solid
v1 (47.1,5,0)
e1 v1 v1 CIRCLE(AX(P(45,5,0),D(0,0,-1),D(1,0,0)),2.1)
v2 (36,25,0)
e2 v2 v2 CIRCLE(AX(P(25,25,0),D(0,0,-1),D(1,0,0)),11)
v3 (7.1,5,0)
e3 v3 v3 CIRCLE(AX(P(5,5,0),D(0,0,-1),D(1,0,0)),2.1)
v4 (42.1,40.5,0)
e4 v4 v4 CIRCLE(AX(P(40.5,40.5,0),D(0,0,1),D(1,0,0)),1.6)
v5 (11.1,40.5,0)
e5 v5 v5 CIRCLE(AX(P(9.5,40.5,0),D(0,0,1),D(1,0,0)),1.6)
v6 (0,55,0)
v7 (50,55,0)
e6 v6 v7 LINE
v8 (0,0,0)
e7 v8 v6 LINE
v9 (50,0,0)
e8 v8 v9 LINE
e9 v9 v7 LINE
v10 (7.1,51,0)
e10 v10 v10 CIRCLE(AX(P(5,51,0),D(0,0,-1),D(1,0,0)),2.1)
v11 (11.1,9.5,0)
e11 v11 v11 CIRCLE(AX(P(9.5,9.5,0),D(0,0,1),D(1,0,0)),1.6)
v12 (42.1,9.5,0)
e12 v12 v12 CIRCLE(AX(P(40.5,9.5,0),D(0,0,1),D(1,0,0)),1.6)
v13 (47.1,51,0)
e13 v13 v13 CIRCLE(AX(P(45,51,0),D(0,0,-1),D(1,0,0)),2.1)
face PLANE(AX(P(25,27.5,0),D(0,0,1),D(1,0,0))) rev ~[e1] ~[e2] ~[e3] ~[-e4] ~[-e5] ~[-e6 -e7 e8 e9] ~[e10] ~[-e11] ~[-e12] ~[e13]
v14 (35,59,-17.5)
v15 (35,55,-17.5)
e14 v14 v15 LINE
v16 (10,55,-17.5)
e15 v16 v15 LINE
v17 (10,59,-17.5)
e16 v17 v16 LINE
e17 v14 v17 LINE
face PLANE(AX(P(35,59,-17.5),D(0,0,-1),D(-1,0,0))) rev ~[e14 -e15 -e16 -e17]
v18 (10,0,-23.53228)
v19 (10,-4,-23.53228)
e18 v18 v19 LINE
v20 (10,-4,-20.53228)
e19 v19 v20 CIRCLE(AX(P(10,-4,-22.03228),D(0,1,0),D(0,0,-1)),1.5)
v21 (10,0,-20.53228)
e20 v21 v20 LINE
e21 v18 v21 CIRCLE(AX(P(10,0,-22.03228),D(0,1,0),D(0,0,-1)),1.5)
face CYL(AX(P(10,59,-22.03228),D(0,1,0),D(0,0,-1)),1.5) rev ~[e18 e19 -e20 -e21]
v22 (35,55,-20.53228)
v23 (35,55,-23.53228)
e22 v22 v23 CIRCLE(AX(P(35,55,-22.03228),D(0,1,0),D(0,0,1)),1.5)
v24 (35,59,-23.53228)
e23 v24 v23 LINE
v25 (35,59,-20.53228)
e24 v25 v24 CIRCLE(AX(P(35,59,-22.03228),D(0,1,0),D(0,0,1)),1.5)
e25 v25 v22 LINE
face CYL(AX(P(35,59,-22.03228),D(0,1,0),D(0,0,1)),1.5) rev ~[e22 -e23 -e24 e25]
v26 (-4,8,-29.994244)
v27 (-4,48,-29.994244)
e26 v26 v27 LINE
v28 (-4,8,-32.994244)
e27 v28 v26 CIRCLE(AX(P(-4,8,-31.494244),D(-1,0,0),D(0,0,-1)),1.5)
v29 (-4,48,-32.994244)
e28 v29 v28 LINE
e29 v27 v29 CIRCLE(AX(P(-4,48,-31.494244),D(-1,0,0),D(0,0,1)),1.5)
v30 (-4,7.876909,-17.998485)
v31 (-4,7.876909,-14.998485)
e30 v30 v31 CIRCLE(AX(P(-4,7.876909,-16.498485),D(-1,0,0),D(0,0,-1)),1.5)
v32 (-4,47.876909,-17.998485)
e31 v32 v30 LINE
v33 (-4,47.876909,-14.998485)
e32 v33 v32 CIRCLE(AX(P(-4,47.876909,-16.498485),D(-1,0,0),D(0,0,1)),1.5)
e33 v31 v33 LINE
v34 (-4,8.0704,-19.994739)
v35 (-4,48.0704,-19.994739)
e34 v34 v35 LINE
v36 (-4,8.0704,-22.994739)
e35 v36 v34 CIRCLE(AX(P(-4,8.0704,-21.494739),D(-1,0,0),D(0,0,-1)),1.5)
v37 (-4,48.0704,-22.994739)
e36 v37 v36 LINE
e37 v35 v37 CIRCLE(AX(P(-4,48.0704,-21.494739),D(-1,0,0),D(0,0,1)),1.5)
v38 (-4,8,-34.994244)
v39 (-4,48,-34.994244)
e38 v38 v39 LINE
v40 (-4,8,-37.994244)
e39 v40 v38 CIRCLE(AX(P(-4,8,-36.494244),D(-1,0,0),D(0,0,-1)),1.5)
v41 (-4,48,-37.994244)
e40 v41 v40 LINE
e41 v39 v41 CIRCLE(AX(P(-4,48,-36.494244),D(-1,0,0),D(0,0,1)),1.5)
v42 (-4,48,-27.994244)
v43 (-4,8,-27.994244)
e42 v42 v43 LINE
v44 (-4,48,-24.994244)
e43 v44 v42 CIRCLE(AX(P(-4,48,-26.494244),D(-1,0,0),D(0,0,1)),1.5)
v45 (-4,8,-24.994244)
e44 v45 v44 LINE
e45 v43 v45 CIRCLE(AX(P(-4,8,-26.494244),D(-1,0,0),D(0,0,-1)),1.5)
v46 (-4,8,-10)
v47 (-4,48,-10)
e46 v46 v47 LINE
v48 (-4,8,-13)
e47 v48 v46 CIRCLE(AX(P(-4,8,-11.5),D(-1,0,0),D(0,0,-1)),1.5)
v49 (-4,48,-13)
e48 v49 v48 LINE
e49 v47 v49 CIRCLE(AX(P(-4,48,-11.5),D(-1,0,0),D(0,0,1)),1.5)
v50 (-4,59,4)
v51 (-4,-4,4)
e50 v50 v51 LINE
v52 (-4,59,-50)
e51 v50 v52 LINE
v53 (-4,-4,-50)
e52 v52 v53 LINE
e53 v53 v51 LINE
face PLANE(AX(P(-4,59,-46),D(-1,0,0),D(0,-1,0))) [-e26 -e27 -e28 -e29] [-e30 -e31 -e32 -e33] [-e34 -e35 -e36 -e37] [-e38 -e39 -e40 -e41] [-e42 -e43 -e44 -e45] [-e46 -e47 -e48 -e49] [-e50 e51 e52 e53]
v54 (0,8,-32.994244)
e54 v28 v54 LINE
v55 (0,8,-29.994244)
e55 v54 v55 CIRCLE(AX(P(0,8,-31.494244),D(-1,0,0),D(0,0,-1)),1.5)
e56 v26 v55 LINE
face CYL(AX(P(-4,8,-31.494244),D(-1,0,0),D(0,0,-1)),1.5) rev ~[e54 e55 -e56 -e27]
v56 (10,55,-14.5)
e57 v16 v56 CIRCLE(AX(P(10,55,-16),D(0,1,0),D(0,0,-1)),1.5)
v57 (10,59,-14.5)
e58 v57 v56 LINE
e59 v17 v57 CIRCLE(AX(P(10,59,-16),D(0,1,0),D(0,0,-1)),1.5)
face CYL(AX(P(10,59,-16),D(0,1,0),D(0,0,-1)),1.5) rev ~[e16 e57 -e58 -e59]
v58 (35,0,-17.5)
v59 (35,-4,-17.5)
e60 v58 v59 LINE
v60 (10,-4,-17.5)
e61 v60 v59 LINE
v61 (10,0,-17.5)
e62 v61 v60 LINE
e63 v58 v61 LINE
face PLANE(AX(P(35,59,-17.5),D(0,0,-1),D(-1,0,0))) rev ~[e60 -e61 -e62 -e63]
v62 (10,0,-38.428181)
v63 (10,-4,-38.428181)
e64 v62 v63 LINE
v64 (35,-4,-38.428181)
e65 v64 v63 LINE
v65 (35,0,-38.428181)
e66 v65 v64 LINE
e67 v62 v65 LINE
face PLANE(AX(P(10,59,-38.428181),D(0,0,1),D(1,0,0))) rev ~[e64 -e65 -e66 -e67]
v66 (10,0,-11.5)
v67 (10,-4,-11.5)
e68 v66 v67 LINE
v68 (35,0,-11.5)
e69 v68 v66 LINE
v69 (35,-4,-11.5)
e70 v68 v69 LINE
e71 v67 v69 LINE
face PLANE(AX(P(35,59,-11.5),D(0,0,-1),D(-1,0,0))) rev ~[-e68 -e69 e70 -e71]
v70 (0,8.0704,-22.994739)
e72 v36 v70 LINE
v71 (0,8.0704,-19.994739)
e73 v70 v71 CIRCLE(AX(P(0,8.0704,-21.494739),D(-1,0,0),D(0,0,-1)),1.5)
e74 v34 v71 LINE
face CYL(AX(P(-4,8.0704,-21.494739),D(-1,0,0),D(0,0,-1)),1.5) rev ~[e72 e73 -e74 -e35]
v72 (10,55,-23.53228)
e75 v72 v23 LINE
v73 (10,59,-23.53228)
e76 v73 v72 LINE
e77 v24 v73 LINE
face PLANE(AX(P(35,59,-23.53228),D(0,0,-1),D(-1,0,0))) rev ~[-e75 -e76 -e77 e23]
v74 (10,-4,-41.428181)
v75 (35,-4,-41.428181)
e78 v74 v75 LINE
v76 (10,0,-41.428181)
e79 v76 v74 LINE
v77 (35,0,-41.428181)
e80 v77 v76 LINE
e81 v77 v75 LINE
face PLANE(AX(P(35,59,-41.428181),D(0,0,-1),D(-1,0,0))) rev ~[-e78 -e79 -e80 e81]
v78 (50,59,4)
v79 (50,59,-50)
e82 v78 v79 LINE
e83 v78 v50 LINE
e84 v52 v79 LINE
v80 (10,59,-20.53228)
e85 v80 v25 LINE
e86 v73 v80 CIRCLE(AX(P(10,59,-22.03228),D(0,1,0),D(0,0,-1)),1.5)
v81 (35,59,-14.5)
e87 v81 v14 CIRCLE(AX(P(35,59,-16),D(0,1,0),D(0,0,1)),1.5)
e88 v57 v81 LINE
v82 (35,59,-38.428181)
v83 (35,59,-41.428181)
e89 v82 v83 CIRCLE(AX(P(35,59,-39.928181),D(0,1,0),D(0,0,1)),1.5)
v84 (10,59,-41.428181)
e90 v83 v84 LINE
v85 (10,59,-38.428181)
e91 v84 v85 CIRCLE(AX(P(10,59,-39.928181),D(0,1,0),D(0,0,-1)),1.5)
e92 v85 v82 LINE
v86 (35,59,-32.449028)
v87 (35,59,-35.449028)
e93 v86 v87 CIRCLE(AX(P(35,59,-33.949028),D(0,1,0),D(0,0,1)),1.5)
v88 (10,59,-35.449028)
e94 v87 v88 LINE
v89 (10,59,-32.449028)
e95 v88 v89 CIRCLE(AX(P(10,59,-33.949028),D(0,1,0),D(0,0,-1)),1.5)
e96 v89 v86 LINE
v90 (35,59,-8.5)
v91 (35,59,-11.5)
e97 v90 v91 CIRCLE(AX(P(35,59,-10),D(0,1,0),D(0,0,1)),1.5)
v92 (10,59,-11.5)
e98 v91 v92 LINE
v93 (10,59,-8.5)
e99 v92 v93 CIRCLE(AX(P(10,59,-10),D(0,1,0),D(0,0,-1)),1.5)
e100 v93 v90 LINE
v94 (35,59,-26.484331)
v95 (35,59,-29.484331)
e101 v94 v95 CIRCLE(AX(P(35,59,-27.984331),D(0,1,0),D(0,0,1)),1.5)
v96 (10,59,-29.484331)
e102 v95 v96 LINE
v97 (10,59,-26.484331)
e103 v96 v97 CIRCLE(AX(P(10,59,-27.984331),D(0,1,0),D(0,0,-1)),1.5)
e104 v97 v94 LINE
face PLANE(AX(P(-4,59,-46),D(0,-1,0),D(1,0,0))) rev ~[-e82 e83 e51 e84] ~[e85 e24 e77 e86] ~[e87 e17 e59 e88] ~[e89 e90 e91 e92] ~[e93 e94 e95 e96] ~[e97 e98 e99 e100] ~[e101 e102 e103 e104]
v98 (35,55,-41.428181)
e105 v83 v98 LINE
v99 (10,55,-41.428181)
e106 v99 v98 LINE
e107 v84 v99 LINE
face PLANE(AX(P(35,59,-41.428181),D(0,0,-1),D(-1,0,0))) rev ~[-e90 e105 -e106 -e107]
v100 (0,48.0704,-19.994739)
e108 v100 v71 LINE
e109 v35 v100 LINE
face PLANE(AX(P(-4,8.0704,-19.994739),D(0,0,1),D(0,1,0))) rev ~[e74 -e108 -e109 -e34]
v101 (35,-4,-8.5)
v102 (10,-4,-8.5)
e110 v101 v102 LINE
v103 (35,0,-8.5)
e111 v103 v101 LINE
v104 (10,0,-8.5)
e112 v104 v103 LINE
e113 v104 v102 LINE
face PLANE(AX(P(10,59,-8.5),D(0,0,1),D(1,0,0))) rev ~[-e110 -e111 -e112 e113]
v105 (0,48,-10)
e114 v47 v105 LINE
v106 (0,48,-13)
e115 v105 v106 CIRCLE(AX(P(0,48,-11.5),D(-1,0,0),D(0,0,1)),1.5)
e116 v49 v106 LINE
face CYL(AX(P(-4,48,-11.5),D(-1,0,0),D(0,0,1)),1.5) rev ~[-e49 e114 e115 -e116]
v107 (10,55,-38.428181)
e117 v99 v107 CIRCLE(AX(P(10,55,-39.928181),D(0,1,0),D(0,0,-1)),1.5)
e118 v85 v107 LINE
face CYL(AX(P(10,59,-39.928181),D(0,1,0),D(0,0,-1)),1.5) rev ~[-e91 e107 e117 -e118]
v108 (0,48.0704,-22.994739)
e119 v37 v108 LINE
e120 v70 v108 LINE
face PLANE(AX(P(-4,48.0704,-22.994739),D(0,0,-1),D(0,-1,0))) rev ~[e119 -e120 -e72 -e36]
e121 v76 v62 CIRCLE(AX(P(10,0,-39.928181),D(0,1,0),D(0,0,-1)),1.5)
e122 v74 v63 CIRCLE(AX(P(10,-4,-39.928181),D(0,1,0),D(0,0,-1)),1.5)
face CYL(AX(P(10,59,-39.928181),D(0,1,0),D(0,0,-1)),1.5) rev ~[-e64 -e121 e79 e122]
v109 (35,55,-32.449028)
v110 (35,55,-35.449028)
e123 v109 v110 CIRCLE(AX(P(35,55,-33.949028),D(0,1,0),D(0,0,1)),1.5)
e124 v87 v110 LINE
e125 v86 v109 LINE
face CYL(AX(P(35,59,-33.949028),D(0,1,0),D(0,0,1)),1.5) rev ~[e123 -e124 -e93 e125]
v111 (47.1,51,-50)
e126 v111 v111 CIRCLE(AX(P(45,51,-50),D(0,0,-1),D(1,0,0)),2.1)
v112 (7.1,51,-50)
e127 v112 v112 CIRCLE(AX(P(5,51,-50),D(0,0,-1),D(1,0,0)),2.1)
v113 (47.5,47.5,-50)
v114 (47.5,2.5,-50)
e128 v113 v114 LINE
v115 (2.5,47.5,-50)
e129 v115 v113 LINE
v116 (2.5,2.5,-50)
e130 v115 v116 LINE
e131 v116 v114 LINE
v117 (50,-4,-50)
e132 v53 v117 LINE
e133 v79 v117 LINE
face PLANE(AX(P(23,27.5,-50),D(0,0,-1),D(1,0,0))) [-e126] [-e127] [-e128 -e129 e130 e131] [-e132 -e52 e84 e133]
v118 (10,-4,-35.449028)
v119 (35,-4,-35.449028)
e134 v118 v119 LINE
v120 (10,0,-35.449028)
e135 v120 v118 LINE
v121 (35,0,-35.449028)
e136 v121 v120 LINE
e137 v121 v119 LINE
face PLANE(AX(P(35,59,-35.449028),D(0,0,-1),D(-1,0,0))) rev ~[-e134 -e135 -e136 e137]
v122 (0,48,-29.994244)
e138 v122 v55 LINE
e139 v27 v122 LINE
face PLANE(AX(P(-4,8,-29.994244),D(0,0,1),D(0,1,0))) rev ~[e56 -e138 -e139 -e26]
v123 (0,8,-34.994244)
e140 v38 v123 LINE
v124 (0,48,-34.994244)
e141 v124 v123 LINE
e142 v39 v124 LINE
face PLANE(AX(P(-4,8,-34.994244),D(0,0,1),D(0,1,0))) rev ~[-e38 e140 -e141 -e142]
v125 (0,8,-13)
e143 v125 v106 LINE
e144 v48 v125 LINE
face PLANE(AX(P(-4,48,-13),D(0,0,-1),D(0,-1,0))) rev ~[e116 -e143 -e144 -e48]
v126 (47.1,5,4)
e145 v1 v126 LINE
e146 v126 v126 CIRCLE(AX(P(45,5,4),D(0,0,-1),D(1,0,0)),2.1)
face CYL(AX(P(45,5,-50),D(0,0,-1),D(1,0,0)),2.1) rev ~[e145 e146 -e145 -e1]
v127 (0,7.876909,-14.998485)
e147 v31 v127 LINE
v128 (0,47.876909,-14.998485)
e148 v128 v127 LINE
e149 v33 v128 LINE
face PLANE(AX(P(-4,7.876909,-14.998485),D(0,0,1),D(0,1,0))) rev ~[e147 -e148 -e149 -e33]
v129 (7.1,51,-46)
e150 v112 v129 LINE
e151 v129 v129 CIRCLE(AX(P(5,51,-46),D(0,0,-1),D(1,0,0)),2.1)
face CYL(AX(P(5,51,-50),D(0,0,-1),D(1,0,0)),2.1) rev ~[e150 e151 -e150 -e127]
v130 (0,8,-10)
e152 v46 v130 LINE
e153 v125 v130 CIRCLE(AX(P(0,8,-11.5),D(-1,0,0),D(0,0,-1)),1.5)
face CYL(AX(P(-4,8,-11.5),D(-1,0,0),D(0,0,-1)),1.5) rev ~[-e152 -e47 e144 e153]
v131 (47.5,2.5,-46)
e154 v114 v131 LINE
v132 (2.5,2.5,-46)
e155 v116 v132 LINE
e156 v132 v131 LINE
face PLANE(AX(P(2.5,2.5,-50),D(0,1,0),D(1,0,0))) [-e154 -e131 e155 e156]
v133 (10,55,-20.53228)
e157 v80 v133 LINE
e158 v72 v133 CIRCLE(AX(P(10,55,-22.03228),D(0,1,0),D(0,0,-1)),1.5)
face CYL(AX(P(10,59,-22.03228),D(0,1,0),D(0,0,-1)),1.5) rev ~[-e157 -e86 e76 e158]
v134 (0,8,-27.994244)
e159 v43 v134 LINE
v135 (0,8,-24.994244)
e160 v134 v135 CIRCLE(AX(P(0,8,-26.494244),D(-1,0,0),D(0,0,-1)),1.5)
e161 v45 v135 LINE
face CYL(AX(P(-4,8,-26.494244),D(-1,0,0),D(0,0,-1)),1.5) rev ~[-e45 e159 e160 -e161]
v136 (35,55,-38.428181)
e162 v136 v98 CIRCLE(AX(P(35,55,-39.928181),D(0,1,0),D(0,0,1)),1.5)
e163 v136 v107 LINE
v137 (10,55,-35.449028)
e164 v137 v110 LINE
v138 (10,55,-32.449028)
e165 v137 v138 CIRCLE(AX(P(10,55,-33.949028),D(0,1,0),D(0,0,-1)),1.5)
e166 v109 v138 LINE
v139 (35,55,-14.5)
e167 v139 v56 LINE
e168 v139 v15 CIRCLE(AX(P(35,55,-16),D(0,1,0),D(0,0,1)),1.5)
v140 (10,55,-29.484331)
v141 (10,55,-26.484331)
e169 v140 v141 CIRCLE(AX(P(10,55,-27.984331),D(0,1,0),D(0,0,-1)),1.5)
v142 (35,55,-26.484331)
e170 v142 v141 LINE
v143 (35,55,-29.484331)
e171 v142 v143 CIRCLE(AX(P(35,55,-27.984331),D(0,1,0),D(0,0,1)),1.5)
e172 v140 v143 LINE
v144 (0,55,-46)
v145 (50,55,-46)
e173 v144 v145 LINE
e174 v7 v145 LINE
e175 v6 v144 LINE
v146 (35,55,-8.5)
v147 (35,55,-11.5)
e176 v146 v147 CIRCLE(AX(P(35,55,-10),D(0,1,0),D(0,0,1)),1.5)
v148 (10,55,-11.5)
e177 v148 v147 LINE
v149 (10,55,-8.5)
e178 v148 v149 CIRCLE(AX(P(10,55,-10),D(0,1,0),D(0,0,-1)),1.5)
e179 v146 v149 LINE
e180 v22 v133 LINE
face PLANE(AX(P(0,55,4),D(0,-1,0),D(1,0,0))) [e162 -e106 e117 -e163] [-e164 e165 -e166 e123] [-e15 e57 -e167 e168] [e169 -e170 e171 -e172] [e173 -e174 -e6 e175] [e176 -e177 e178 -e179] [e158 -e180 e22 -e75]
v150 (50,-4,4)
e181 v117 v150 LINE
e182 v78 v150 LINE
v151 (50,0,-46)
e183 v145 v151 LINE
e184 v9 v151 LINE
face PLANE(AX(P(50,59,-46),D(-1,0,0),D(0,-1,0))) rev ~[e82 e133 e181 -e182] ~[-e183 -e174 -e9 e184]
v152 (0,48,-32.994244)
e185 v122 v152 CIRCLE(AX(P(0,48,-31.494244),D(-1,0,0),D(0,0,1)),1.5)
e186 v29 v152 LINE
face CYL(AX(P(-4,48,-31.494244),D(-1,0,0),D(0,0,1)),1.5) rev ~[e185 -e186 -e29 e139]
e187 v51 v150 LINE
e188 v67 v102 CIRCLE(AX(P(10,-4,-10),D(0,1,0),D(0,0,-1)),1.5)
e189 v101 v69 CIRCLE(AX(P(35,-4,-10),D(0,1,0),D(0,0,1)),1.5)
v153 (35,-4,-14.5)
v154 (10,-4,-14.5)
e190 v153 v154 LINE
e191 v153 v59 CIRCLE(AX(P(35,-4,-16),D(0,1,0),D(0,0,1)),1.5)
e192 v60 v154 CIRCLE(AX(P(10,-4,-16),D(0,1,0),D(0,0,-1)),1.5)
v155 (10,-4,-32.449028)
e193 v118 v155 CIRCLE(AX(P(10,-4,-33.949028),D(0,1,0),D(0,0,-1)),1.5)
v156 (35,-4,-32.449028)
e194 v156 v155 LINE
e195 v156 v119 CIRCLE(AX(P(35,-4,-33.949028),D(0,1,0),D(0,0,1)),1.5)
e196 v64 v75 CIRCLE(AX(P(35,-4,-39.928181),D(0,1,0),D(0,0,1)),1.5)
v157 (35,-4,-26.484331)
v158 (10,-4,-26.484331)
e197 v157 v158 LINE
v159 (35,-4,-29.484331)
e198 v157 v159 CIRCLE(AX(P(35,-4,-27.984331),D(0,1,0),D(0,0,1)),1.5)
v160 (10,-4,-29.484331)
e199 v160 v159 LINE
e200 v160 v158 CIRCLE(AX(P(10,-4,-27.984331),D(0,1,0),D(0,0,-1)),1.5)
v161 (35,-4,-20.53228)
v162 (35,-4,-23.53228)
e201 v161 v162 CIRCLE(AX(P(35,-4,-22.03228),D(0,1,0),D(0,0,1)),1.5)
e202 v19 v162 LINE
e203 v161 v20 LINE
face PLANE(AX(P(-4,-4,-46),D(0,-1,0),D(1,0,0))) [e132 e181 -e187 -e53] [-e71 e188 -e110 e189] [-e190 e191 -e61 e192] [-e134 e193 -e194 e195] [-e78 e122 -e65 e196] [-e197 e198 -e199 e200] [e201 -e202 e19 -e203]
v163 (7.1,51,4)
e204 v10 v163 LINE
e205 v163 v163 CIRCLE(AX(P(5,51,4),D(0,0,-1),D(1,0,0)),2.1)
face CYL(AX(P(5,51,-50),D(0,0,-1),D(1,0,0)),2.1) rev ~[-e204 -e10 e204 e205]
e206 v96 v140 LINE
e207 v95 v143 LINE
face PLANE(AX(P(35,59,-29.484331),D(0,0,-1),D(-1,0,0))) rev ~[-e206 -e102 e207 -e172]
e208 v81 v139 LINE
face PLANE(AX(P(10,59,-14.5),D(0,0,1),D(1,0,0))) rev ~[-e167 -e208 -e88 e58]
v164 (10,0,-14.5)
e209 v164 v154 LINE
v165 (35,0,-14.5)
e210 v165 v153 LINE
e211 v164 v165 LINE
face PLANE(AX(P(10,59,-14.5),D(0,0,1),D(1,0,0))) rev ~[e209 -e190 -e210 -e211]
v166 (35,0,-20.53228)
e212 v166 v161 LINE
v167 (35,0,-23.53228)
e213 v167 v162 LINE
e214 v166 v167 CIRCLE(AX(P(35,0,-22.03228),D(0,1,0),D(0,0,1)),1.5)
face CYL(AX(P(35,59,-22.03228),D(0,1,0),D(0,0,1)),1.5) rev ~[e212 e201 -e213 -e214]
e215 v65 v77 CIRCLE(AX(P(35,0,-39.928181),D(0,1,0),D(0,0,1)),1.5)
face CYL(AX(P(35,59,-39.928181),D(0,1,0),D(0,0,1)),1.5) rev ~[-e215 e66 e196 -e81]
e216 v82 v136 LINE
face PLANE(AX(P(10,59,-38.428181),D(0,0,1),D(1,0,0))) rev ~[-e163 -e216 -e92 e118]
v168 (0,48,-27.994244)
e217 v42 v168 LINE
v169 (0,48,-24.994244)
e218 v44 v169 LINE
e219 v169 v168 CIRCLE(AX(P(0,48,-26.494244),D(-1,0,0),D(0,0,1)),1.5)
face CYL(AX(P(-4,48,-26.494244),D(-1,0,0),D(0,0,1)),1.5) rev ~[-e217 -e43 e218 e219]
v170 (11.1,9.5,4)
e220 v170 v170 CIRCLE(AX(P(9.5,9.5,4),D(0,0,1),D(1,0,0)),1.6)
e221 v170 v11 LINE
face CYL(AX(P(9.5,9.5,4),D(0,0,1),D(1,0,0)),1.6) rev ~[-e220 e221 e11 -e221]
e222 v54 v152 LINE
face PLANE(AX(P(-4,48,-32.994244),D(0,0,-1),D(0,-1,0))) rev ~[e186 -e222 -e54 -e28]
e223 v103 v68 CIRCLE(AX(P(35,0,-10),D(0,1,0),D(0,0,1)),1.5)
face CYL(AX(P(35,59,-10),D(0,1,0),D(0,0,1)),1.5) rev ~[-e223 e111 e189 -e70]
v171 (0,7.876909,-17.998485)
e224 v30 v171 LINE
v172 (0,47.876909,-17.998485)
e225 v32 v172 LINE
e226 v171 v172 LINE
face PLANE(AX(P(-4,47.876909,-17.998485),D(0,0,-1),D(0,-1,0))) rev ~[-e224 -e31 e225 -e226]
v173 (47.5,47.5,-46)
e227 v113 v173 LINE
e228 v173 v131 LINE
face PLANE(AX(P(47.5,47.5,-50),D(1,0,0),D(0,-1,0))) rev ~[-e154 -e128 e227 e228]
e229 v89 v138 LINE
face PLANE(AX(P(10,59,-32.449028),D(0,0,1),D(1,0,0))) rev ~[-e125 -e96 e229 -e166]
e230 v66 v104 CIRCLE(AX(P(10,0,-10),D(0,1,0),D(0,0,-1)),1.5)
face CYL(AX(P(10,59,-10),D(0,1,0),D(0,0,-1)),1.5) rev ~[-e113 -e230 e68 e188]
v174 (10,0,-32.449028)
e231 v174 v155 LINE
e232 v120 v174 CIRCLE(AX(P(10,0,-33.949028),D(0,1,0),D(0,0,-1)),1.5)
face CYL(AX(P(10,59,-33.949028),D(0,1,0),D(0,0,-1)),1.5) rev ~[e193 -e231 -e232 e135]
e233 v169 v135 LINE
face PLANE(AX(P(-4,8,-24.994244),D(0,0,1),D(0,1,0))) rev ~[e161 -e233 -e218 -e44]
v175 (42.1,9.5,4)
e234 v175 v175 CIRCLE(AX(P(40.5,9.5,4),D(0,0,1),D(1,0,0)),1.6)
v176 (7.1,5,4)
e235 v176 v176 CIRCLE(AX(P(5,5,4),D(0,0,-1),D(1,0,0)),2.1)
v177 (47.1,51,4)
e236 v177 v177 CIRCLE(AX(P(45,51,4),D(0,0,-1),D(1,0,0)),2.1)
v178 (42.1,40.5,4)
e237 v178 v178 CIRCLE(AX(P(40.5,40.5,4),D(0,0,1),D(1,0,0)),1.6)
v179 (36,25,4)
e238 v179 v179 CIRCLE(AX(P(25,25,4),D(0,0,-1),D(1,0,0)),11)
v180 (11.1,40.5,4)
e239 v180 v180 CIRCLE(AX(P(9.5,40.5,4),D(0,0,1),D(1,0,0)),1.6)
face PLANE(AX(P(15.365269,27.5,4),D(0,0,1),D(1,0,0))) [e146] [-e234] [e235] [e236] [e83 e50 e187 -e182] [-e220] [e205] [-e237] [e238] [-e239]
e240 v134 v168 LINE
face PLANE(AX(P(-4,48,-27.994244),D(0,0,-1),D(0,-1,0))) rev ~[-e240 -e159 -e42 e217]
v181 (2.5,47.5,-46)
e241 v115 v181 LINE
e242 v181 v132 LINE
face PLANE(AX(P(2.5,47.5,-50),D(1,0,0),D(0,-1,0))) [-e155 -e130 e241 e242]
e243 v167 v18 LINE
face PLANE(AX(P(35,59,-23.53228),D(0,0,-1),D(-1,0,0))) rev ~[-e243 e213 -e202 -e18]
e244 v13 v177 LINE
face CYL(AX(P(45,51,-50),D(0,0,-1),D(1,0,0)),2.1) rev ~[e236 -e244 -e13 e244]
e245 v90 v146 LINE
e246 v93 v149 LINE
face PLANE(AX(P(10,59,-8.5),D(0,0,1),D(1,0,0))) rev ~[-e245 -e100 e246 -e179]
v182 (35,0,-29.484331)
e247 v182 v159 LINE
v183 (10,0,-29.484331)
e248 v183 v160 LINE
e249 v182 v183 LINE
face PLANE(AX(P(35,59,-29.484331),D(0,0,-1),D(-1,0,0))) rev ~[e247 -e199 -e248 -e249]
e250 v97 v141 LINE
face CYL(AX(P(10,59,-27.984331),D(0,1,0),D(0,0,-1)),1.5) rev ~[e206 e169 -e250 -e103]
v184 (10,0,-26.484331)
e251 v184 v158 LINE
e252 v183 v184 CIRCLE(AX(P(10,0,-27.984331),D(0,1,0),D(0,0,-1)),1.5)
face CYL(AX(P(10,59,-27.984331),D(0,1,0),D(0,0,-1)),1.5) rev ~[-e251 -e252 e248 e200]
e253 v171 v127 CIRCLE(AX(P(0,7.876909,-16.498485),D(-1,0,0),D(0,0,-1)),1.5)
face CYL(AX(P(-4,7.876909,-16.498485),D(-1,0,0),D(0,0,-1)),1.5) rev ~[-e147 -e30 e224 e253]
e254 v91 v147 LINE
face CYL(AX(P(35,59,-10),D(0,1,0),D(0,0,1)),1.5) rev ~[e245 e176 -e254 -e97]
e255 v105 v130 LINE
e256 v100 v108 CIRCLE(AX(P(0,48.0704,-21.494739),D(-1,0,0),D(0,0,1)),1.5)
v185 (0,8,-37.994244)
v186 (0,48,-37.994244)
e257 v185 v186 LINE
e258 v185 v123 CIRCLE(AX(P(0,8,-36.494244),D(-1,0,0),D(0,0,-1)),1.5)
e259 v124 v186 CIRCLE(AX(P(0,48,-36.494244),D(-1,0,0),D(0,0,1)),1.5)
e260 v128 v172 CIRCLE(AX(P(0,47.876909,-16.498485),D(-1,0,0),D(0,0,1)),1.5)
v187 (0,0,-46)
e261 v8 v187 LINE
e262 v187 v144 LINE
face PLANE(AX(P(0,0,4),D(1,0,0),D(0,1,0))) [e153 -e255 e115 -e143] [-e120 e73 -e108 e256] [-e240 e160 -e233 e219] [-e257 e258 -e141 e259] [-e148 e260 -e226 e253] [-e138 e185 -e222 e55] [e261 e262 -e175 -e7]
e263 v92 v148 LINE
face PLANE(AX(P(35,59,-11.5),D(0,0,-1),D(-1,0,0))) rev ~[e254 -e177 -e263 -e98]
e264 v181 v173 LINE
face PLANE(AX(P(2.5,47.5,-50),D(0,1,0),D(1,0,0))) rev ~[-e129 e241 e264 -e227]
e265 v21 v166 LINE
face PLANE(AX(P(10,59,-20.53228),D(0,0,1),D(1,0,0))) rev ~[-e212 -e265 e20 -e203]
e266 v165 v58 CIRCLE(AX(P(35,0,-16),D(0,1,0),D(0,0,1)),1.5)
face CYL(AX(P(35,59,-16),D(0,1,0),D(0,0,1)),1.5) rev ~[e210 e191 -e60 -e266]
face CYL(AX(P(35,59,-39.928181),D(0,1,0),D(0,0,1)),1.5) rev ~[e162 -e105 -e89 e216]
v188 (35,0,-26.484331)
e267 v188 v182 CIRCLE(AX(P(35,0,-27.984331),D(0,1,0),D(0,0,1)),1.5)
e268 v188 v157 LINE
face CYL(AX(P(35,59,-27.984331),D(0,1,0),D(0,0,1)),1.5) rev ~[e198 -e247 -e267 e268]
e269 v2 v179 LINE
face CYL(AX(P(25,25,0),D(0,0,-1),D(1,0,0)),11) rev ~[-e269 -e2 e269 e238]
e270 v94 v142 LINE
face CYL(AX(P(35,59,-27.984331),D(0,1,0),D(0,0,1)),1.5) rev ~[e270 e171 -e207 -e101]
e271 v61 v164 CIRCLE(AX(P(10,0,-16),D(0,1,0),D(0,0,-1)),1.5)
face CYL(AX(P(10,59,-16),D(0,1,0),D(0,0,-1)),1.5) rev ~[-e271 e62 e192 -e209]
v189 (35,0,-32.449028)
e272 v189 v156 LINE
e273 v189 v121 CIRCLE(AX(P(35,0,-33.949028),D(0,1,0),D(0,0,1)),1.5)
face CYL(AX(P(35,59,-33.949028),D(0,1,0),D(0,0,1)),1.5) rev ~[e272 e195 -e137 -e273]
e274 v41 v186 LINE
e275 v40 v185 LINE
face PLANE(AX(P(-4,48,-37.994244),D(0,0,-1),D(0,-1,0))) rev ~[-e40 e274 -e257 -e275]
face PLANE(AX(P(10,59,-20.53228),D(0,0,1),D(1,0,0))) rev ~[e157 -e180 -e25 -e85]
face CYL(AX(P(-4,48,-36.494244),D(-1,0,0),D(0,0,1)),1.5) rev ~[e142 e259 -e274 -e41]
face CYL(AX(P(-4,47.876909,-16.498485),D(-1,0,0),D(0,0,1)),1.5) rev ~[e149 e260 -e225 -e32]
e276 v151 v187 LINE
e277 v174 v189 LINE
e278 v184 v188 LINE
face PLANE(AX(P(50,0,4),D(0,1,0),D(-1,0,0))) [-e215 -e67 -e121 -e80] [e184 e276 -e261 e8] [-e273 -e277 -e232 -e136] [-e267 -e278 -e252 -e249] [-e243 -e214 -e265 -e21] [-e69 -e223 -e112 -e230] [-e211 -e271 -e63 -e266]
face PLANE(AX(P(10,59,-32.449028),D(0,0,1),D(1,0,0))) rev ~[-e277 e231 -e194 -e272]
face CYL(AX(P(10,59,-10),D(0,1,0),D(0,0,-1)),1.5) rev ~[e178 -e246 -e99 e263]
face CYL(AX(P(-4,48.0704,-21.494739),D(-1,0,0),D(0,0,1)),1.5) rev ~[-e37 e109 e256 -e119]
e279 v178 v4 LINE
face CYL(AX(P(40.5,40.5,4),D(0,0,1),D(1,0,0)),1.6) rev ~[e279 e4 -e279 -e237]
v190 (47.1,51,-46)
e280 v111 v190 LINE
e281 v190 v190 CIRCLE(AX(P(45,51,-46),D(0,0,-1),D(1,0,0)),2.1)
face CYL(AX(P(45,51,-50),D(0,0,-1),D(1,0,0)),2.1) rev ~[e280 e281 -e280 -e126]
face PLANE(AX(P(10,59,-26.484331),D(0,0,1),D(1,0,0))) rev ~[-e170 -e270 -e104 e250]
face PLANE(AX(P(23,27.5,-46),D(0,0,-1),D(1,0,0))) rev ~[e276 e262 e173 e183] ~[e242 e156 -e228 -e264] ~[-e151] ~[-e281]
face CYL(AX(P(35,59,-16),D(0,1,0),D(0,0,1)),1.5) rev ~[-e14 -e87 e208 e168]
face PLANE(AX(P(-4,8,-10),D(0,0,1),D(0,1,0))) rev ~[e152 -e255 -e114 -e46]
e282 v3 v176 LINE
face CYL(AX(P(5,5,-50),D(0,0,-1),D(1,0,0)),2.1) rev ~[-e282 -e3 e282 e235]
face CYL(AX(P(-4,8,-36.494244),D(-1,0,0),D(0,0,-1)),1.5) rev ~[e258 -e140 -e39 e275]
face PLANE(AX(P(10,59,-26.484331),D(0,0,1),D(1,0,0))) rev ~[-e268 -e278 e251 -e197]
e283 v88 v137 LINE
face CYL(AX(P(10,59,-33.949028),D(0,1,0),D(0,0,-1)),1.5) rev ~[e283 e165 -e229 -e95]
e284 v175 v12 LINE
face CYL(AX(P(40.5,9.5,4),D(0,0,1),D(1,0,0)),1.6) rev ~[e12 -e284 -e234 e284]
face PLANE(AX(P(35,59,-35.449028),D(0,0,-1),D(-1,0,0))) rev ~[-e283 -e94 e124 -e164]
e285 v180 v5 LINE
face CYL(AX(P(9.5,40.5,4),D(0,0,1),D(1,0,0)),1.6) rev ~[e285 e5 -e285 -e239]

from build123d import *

# Parameters (mm, degrees)
SKETCH_W        = 50
SKETCH_H        = 55
PAD_DEPTH       = 4
PAD001_DEPTH    = 50
SKETCH002_R     = 11
POCKET_DEPTH    = 5
SKETCH003_R     = 1.6
POCKET001_DEPTH = 50
SKETCH004_W     = 54
SKETCH004_H     = 63
PAD002_DEPTH    = 4
SKETCH005_R     = 2.1
POCKET002_DEPTH = 60
POCKET003_DEPTH = 5
POCKET004_DEPTH = 70
SKETCH008_W     = 45
SKETCH008_H     = 45
POCKET005_DEPTH = 5


with BuildPart() as part:
    # Sketch → Pad (new body)
    with BuildSketch(Plane.XY):
        with Locations((25, 27.5)):
            Rectangle(SKETCH_W, SKETCH_H)
    extrude(amount=PAD_DEPTH)

    # Sketch001 (on Face6 of Pad) → Pad001 (join)
    with BuildSketch(Plane.XY.offset(4)):
        Polygon((50, 55), (50, 59), (-4, 59), (-4, -4), (50, -4), (50, 0), (0, 0), (0, 55), align=None)
    extrude(amount=-PAD001_DEPTH)

    # Sketch002 (on Face4 of Pad001) → Pocket (cut)
    with BuildSketch(Plane(origin=(0, 0, 0), x_dir=(1, 0, 0), z_dir=(0, 0, -1))):
        with Locations((25, -25)):
            Circle(SKETCH002_R)
    extrude(amount=-POCKET_DEPTH, mode=Mode.SUBTRACT)

    # Sketch003 (on Face5 of Pocket) → Pocket001 (cut)
    with BuildSketch(Plane.XY.offset(4)):
        with Locations((40.5, 40.5)):
            Circle(SKETCH003_R)
        with Locations((40.5, 9.5)):
            Circle(SKETCH003_R)
        with Locations((9.5, 9.5)):
            Circle(SKETCH003_R)
        with Locations((9.5, 40.5)):
            Circle(SKETCH003_R)
    extrude(amount=-POCKET001_DEPTH, mode=Mode.SUBTRACT)

    # Sketch004 (on DatumPlane) → Pad002 (join)
    with BuildSketch(Plane(origin=(0, 0, -46), x_dir=(1, 0, 0), z_dir=(0, 0, -1))):
        with Locations((23, -27.5)):
            Rectangle(SKETCH004_W, SKETCH004_H)
    extrude(amount=PAD002_DEPTH)

    # Sketch005 (on Face22 of Pad002) → Pocket002 (cut)
    with BuildSketch(Plane(origin=(0, 0, -50), x_dir=(1, 0, 0), z_dir=(0, 0, -1))):
        with Locations((5, -5)):
            Circle(SKETCH005_R)
        with Locations((45, -5)):
            Circle(SKETCH005_R)
        with Locations((45, -51)):
            Circle(SKETCH005_R)
        with Locations((5, -51)):
            Circle(SKETCH005_R)
    extrude(amount=-POCKET002_DEPTH, mode=Mode.SUBTRACT)

    # Sketch006 (on Face22 of Pocket002) → Pocket003 (cut)
    with BuildSketch(Plane(origin=(-4, 0, 0), x_dir=(0, -1, 0), z_dir=(-1, 0, 0))):
        with BuildLine():
            ThreePointArc((-48, -10), (-49.5, -11.5), (-48, -13))
            Line((-48, -13), (-8, -13))
            ThreePointArc((-8, -13), (-6.5, -11.5), (-8, -10))
            Line((-8, -10), (-48, -10))
        make_face()
        with BuildLine():
            ThreePointArc((-48, -24.994244), (-49.5, -26.494244), (-48, -27.994244))
            Line((-48, -27.994244), (-8, -27.994244))
            ThreePointArc((-8, -27.994244), (-6.5, -26.494244), (-8, -24.994244))
            Line((-8, -24.994244), (-48, -24.994244))
        make_face()
        with BuildLine():
            ThreePointArc((-47.876909, -14.998485), (-49.376909, -16.498485), (-47.876909, -17.998485))
            Line((-47.876909, -17.998485), (-7.876909, -17.998485))
            ThreePointArc((-7.876909, -17.998485), (-6.376909, -16.498485), (-7.876909, -14.998485))
            Line((-7.876909, -14.998485), (-47.876909, -14.998485))
        make_face()
        with BuildLine():
            ThreePointArc((-48.0704, -19.994739), (-49.5704, -21.494739), (-48.0704, -22.994739))
            Line((-48.0704, -22.994739), (-8.0704, -22.994739))
            ThreePointArc((-8.0704, -22.994739), (-6.5704, -21.494739), (-8.0704, -19.994739))
            Line((-8.0704, -19.994739), (-48.0704, -19.994739))
        make_face()
        with BuildLine():
            ThreePointArc((-48, -34.994244), (-49.5, -36.494244), (-48, -37.994244))
            Line((-48, -37.994244), (-8, -37.994244))
            ThreePointArc((-8, -37.994244), (-6.5, -36.494244), (-8, -34.994244))
            Line((-8, -34.994244), (-48, -34.994244))
        make_face()
        with BuildLine():
            ThreePointArc((-48, -29.994244), (-49.5, -31.494244), (-48, -32.994244))
            Line((-48, -32.994244), (-8, -32.994244))
            ThreePointArc((-8, -32.994244), (-6.5, -31.494244), (-8, -29.994244))
            Line((-8, -29.994244), (-48, -29.994244))
        make_face()
    extrude(amount=-POCKET003_DEPTH, mode=Mode.SUBTRACT)

    # Sketch007 (on Face11 of Pocket003) → Pocket004 (cut)
    with BuildSketch(Plane(origin=(0, 59, 0), x_dir=(-1, 0, 0), z_dir=(0, 1, 0))):
        with BuildLine():
            ThreePointArc((-35, -8.5), (-36.5, -10), (-35, -11.5))
            Line((-35, -11.5), (-10, -11.5))
            ThreePointArc((-10, -11.5), (-8.5, -10), (-10, -8.5))
            Line((-10, -8.5), (-35, -8.5))
        make_face()
        with BuildLine():
            ThreePointArc((-35, -14.5), (-36.5, -16), (-35, -17.5))
            Line((-35, -17.5), (-10, -17.5))
            ThreePointArc((-10, -17.5), (-8.5, -16), (-10, -14.5))
            Line((-10, -14.5), (-35, -14.5))
        make_face()
        with BuildLine():
            ThreePointArc((-35, -20.53228), (-36.5, -22.03228), (-35, -23.53228))
            Line((-35, -23.53228), (-10, -23.53228))
            ThreePointArc((-10, -23.53228), (-8.5, -22.03228), (-10, -20.53228))
            Line((-10, -20.53228), (-35, -20.53228))
        make_face()
        with BuildLine():
            ThreePointArc((-35, -26.484331), (-36.5, -27.984331), (-35, -29.484331))
            Line((-35, -29.484331), (-10, -29.484331))
            ThreePointArc((-10, -29.484331), (-8.5, -27.984331), (-10, -26.484331))
            Line((-10, -26.484331), (-35, -26.484331))
        make_face()
        with BuildLine():
            ThreePointArc((-35, -32.449028), (-36.5, -33.949028), (-35, -35.449028))
            Line((-35, -35.449028), (-10, -35.449028))
            ThreePointArc((-10, -35.449028), (-8.5, -33.949028), (-10, -32.449028))
            Line((-10, -32.449028), (-35, -32.449028))
        make_face()
        with BuildLine():
            ThreePointArc((-35, -38.428181), (-36.5, -39.928181), (-35, -41.428181))
            Line((-35, -41.428181), (-10, -41.428181))
            ThreePointArc((-10, -41.428181), (-8.5, -39.928181), (-10, -38.428181))
            Line((-10, -38.428181), (-35, -38.428181))
        make_face()
    extrude(amount=-POCKET004_DEPTH, mode=Mode.SUBTRACT)

    # Sketch008 (on Face50 of Pocket004) → Pocket005 (cut)
    with BuildSketch(Plane(origin=(0, 0, -50), x_dir=(1, 0, 0), z_dir=(0, 0, -1))):
        with Locations((25, -25)):
            Rectangle(SKETCH008_W, SKETCH008_H)
    extrude(amount=-POCKET005_DEPTH, mode=Mode.SUBTRACT)


solid = part.part
